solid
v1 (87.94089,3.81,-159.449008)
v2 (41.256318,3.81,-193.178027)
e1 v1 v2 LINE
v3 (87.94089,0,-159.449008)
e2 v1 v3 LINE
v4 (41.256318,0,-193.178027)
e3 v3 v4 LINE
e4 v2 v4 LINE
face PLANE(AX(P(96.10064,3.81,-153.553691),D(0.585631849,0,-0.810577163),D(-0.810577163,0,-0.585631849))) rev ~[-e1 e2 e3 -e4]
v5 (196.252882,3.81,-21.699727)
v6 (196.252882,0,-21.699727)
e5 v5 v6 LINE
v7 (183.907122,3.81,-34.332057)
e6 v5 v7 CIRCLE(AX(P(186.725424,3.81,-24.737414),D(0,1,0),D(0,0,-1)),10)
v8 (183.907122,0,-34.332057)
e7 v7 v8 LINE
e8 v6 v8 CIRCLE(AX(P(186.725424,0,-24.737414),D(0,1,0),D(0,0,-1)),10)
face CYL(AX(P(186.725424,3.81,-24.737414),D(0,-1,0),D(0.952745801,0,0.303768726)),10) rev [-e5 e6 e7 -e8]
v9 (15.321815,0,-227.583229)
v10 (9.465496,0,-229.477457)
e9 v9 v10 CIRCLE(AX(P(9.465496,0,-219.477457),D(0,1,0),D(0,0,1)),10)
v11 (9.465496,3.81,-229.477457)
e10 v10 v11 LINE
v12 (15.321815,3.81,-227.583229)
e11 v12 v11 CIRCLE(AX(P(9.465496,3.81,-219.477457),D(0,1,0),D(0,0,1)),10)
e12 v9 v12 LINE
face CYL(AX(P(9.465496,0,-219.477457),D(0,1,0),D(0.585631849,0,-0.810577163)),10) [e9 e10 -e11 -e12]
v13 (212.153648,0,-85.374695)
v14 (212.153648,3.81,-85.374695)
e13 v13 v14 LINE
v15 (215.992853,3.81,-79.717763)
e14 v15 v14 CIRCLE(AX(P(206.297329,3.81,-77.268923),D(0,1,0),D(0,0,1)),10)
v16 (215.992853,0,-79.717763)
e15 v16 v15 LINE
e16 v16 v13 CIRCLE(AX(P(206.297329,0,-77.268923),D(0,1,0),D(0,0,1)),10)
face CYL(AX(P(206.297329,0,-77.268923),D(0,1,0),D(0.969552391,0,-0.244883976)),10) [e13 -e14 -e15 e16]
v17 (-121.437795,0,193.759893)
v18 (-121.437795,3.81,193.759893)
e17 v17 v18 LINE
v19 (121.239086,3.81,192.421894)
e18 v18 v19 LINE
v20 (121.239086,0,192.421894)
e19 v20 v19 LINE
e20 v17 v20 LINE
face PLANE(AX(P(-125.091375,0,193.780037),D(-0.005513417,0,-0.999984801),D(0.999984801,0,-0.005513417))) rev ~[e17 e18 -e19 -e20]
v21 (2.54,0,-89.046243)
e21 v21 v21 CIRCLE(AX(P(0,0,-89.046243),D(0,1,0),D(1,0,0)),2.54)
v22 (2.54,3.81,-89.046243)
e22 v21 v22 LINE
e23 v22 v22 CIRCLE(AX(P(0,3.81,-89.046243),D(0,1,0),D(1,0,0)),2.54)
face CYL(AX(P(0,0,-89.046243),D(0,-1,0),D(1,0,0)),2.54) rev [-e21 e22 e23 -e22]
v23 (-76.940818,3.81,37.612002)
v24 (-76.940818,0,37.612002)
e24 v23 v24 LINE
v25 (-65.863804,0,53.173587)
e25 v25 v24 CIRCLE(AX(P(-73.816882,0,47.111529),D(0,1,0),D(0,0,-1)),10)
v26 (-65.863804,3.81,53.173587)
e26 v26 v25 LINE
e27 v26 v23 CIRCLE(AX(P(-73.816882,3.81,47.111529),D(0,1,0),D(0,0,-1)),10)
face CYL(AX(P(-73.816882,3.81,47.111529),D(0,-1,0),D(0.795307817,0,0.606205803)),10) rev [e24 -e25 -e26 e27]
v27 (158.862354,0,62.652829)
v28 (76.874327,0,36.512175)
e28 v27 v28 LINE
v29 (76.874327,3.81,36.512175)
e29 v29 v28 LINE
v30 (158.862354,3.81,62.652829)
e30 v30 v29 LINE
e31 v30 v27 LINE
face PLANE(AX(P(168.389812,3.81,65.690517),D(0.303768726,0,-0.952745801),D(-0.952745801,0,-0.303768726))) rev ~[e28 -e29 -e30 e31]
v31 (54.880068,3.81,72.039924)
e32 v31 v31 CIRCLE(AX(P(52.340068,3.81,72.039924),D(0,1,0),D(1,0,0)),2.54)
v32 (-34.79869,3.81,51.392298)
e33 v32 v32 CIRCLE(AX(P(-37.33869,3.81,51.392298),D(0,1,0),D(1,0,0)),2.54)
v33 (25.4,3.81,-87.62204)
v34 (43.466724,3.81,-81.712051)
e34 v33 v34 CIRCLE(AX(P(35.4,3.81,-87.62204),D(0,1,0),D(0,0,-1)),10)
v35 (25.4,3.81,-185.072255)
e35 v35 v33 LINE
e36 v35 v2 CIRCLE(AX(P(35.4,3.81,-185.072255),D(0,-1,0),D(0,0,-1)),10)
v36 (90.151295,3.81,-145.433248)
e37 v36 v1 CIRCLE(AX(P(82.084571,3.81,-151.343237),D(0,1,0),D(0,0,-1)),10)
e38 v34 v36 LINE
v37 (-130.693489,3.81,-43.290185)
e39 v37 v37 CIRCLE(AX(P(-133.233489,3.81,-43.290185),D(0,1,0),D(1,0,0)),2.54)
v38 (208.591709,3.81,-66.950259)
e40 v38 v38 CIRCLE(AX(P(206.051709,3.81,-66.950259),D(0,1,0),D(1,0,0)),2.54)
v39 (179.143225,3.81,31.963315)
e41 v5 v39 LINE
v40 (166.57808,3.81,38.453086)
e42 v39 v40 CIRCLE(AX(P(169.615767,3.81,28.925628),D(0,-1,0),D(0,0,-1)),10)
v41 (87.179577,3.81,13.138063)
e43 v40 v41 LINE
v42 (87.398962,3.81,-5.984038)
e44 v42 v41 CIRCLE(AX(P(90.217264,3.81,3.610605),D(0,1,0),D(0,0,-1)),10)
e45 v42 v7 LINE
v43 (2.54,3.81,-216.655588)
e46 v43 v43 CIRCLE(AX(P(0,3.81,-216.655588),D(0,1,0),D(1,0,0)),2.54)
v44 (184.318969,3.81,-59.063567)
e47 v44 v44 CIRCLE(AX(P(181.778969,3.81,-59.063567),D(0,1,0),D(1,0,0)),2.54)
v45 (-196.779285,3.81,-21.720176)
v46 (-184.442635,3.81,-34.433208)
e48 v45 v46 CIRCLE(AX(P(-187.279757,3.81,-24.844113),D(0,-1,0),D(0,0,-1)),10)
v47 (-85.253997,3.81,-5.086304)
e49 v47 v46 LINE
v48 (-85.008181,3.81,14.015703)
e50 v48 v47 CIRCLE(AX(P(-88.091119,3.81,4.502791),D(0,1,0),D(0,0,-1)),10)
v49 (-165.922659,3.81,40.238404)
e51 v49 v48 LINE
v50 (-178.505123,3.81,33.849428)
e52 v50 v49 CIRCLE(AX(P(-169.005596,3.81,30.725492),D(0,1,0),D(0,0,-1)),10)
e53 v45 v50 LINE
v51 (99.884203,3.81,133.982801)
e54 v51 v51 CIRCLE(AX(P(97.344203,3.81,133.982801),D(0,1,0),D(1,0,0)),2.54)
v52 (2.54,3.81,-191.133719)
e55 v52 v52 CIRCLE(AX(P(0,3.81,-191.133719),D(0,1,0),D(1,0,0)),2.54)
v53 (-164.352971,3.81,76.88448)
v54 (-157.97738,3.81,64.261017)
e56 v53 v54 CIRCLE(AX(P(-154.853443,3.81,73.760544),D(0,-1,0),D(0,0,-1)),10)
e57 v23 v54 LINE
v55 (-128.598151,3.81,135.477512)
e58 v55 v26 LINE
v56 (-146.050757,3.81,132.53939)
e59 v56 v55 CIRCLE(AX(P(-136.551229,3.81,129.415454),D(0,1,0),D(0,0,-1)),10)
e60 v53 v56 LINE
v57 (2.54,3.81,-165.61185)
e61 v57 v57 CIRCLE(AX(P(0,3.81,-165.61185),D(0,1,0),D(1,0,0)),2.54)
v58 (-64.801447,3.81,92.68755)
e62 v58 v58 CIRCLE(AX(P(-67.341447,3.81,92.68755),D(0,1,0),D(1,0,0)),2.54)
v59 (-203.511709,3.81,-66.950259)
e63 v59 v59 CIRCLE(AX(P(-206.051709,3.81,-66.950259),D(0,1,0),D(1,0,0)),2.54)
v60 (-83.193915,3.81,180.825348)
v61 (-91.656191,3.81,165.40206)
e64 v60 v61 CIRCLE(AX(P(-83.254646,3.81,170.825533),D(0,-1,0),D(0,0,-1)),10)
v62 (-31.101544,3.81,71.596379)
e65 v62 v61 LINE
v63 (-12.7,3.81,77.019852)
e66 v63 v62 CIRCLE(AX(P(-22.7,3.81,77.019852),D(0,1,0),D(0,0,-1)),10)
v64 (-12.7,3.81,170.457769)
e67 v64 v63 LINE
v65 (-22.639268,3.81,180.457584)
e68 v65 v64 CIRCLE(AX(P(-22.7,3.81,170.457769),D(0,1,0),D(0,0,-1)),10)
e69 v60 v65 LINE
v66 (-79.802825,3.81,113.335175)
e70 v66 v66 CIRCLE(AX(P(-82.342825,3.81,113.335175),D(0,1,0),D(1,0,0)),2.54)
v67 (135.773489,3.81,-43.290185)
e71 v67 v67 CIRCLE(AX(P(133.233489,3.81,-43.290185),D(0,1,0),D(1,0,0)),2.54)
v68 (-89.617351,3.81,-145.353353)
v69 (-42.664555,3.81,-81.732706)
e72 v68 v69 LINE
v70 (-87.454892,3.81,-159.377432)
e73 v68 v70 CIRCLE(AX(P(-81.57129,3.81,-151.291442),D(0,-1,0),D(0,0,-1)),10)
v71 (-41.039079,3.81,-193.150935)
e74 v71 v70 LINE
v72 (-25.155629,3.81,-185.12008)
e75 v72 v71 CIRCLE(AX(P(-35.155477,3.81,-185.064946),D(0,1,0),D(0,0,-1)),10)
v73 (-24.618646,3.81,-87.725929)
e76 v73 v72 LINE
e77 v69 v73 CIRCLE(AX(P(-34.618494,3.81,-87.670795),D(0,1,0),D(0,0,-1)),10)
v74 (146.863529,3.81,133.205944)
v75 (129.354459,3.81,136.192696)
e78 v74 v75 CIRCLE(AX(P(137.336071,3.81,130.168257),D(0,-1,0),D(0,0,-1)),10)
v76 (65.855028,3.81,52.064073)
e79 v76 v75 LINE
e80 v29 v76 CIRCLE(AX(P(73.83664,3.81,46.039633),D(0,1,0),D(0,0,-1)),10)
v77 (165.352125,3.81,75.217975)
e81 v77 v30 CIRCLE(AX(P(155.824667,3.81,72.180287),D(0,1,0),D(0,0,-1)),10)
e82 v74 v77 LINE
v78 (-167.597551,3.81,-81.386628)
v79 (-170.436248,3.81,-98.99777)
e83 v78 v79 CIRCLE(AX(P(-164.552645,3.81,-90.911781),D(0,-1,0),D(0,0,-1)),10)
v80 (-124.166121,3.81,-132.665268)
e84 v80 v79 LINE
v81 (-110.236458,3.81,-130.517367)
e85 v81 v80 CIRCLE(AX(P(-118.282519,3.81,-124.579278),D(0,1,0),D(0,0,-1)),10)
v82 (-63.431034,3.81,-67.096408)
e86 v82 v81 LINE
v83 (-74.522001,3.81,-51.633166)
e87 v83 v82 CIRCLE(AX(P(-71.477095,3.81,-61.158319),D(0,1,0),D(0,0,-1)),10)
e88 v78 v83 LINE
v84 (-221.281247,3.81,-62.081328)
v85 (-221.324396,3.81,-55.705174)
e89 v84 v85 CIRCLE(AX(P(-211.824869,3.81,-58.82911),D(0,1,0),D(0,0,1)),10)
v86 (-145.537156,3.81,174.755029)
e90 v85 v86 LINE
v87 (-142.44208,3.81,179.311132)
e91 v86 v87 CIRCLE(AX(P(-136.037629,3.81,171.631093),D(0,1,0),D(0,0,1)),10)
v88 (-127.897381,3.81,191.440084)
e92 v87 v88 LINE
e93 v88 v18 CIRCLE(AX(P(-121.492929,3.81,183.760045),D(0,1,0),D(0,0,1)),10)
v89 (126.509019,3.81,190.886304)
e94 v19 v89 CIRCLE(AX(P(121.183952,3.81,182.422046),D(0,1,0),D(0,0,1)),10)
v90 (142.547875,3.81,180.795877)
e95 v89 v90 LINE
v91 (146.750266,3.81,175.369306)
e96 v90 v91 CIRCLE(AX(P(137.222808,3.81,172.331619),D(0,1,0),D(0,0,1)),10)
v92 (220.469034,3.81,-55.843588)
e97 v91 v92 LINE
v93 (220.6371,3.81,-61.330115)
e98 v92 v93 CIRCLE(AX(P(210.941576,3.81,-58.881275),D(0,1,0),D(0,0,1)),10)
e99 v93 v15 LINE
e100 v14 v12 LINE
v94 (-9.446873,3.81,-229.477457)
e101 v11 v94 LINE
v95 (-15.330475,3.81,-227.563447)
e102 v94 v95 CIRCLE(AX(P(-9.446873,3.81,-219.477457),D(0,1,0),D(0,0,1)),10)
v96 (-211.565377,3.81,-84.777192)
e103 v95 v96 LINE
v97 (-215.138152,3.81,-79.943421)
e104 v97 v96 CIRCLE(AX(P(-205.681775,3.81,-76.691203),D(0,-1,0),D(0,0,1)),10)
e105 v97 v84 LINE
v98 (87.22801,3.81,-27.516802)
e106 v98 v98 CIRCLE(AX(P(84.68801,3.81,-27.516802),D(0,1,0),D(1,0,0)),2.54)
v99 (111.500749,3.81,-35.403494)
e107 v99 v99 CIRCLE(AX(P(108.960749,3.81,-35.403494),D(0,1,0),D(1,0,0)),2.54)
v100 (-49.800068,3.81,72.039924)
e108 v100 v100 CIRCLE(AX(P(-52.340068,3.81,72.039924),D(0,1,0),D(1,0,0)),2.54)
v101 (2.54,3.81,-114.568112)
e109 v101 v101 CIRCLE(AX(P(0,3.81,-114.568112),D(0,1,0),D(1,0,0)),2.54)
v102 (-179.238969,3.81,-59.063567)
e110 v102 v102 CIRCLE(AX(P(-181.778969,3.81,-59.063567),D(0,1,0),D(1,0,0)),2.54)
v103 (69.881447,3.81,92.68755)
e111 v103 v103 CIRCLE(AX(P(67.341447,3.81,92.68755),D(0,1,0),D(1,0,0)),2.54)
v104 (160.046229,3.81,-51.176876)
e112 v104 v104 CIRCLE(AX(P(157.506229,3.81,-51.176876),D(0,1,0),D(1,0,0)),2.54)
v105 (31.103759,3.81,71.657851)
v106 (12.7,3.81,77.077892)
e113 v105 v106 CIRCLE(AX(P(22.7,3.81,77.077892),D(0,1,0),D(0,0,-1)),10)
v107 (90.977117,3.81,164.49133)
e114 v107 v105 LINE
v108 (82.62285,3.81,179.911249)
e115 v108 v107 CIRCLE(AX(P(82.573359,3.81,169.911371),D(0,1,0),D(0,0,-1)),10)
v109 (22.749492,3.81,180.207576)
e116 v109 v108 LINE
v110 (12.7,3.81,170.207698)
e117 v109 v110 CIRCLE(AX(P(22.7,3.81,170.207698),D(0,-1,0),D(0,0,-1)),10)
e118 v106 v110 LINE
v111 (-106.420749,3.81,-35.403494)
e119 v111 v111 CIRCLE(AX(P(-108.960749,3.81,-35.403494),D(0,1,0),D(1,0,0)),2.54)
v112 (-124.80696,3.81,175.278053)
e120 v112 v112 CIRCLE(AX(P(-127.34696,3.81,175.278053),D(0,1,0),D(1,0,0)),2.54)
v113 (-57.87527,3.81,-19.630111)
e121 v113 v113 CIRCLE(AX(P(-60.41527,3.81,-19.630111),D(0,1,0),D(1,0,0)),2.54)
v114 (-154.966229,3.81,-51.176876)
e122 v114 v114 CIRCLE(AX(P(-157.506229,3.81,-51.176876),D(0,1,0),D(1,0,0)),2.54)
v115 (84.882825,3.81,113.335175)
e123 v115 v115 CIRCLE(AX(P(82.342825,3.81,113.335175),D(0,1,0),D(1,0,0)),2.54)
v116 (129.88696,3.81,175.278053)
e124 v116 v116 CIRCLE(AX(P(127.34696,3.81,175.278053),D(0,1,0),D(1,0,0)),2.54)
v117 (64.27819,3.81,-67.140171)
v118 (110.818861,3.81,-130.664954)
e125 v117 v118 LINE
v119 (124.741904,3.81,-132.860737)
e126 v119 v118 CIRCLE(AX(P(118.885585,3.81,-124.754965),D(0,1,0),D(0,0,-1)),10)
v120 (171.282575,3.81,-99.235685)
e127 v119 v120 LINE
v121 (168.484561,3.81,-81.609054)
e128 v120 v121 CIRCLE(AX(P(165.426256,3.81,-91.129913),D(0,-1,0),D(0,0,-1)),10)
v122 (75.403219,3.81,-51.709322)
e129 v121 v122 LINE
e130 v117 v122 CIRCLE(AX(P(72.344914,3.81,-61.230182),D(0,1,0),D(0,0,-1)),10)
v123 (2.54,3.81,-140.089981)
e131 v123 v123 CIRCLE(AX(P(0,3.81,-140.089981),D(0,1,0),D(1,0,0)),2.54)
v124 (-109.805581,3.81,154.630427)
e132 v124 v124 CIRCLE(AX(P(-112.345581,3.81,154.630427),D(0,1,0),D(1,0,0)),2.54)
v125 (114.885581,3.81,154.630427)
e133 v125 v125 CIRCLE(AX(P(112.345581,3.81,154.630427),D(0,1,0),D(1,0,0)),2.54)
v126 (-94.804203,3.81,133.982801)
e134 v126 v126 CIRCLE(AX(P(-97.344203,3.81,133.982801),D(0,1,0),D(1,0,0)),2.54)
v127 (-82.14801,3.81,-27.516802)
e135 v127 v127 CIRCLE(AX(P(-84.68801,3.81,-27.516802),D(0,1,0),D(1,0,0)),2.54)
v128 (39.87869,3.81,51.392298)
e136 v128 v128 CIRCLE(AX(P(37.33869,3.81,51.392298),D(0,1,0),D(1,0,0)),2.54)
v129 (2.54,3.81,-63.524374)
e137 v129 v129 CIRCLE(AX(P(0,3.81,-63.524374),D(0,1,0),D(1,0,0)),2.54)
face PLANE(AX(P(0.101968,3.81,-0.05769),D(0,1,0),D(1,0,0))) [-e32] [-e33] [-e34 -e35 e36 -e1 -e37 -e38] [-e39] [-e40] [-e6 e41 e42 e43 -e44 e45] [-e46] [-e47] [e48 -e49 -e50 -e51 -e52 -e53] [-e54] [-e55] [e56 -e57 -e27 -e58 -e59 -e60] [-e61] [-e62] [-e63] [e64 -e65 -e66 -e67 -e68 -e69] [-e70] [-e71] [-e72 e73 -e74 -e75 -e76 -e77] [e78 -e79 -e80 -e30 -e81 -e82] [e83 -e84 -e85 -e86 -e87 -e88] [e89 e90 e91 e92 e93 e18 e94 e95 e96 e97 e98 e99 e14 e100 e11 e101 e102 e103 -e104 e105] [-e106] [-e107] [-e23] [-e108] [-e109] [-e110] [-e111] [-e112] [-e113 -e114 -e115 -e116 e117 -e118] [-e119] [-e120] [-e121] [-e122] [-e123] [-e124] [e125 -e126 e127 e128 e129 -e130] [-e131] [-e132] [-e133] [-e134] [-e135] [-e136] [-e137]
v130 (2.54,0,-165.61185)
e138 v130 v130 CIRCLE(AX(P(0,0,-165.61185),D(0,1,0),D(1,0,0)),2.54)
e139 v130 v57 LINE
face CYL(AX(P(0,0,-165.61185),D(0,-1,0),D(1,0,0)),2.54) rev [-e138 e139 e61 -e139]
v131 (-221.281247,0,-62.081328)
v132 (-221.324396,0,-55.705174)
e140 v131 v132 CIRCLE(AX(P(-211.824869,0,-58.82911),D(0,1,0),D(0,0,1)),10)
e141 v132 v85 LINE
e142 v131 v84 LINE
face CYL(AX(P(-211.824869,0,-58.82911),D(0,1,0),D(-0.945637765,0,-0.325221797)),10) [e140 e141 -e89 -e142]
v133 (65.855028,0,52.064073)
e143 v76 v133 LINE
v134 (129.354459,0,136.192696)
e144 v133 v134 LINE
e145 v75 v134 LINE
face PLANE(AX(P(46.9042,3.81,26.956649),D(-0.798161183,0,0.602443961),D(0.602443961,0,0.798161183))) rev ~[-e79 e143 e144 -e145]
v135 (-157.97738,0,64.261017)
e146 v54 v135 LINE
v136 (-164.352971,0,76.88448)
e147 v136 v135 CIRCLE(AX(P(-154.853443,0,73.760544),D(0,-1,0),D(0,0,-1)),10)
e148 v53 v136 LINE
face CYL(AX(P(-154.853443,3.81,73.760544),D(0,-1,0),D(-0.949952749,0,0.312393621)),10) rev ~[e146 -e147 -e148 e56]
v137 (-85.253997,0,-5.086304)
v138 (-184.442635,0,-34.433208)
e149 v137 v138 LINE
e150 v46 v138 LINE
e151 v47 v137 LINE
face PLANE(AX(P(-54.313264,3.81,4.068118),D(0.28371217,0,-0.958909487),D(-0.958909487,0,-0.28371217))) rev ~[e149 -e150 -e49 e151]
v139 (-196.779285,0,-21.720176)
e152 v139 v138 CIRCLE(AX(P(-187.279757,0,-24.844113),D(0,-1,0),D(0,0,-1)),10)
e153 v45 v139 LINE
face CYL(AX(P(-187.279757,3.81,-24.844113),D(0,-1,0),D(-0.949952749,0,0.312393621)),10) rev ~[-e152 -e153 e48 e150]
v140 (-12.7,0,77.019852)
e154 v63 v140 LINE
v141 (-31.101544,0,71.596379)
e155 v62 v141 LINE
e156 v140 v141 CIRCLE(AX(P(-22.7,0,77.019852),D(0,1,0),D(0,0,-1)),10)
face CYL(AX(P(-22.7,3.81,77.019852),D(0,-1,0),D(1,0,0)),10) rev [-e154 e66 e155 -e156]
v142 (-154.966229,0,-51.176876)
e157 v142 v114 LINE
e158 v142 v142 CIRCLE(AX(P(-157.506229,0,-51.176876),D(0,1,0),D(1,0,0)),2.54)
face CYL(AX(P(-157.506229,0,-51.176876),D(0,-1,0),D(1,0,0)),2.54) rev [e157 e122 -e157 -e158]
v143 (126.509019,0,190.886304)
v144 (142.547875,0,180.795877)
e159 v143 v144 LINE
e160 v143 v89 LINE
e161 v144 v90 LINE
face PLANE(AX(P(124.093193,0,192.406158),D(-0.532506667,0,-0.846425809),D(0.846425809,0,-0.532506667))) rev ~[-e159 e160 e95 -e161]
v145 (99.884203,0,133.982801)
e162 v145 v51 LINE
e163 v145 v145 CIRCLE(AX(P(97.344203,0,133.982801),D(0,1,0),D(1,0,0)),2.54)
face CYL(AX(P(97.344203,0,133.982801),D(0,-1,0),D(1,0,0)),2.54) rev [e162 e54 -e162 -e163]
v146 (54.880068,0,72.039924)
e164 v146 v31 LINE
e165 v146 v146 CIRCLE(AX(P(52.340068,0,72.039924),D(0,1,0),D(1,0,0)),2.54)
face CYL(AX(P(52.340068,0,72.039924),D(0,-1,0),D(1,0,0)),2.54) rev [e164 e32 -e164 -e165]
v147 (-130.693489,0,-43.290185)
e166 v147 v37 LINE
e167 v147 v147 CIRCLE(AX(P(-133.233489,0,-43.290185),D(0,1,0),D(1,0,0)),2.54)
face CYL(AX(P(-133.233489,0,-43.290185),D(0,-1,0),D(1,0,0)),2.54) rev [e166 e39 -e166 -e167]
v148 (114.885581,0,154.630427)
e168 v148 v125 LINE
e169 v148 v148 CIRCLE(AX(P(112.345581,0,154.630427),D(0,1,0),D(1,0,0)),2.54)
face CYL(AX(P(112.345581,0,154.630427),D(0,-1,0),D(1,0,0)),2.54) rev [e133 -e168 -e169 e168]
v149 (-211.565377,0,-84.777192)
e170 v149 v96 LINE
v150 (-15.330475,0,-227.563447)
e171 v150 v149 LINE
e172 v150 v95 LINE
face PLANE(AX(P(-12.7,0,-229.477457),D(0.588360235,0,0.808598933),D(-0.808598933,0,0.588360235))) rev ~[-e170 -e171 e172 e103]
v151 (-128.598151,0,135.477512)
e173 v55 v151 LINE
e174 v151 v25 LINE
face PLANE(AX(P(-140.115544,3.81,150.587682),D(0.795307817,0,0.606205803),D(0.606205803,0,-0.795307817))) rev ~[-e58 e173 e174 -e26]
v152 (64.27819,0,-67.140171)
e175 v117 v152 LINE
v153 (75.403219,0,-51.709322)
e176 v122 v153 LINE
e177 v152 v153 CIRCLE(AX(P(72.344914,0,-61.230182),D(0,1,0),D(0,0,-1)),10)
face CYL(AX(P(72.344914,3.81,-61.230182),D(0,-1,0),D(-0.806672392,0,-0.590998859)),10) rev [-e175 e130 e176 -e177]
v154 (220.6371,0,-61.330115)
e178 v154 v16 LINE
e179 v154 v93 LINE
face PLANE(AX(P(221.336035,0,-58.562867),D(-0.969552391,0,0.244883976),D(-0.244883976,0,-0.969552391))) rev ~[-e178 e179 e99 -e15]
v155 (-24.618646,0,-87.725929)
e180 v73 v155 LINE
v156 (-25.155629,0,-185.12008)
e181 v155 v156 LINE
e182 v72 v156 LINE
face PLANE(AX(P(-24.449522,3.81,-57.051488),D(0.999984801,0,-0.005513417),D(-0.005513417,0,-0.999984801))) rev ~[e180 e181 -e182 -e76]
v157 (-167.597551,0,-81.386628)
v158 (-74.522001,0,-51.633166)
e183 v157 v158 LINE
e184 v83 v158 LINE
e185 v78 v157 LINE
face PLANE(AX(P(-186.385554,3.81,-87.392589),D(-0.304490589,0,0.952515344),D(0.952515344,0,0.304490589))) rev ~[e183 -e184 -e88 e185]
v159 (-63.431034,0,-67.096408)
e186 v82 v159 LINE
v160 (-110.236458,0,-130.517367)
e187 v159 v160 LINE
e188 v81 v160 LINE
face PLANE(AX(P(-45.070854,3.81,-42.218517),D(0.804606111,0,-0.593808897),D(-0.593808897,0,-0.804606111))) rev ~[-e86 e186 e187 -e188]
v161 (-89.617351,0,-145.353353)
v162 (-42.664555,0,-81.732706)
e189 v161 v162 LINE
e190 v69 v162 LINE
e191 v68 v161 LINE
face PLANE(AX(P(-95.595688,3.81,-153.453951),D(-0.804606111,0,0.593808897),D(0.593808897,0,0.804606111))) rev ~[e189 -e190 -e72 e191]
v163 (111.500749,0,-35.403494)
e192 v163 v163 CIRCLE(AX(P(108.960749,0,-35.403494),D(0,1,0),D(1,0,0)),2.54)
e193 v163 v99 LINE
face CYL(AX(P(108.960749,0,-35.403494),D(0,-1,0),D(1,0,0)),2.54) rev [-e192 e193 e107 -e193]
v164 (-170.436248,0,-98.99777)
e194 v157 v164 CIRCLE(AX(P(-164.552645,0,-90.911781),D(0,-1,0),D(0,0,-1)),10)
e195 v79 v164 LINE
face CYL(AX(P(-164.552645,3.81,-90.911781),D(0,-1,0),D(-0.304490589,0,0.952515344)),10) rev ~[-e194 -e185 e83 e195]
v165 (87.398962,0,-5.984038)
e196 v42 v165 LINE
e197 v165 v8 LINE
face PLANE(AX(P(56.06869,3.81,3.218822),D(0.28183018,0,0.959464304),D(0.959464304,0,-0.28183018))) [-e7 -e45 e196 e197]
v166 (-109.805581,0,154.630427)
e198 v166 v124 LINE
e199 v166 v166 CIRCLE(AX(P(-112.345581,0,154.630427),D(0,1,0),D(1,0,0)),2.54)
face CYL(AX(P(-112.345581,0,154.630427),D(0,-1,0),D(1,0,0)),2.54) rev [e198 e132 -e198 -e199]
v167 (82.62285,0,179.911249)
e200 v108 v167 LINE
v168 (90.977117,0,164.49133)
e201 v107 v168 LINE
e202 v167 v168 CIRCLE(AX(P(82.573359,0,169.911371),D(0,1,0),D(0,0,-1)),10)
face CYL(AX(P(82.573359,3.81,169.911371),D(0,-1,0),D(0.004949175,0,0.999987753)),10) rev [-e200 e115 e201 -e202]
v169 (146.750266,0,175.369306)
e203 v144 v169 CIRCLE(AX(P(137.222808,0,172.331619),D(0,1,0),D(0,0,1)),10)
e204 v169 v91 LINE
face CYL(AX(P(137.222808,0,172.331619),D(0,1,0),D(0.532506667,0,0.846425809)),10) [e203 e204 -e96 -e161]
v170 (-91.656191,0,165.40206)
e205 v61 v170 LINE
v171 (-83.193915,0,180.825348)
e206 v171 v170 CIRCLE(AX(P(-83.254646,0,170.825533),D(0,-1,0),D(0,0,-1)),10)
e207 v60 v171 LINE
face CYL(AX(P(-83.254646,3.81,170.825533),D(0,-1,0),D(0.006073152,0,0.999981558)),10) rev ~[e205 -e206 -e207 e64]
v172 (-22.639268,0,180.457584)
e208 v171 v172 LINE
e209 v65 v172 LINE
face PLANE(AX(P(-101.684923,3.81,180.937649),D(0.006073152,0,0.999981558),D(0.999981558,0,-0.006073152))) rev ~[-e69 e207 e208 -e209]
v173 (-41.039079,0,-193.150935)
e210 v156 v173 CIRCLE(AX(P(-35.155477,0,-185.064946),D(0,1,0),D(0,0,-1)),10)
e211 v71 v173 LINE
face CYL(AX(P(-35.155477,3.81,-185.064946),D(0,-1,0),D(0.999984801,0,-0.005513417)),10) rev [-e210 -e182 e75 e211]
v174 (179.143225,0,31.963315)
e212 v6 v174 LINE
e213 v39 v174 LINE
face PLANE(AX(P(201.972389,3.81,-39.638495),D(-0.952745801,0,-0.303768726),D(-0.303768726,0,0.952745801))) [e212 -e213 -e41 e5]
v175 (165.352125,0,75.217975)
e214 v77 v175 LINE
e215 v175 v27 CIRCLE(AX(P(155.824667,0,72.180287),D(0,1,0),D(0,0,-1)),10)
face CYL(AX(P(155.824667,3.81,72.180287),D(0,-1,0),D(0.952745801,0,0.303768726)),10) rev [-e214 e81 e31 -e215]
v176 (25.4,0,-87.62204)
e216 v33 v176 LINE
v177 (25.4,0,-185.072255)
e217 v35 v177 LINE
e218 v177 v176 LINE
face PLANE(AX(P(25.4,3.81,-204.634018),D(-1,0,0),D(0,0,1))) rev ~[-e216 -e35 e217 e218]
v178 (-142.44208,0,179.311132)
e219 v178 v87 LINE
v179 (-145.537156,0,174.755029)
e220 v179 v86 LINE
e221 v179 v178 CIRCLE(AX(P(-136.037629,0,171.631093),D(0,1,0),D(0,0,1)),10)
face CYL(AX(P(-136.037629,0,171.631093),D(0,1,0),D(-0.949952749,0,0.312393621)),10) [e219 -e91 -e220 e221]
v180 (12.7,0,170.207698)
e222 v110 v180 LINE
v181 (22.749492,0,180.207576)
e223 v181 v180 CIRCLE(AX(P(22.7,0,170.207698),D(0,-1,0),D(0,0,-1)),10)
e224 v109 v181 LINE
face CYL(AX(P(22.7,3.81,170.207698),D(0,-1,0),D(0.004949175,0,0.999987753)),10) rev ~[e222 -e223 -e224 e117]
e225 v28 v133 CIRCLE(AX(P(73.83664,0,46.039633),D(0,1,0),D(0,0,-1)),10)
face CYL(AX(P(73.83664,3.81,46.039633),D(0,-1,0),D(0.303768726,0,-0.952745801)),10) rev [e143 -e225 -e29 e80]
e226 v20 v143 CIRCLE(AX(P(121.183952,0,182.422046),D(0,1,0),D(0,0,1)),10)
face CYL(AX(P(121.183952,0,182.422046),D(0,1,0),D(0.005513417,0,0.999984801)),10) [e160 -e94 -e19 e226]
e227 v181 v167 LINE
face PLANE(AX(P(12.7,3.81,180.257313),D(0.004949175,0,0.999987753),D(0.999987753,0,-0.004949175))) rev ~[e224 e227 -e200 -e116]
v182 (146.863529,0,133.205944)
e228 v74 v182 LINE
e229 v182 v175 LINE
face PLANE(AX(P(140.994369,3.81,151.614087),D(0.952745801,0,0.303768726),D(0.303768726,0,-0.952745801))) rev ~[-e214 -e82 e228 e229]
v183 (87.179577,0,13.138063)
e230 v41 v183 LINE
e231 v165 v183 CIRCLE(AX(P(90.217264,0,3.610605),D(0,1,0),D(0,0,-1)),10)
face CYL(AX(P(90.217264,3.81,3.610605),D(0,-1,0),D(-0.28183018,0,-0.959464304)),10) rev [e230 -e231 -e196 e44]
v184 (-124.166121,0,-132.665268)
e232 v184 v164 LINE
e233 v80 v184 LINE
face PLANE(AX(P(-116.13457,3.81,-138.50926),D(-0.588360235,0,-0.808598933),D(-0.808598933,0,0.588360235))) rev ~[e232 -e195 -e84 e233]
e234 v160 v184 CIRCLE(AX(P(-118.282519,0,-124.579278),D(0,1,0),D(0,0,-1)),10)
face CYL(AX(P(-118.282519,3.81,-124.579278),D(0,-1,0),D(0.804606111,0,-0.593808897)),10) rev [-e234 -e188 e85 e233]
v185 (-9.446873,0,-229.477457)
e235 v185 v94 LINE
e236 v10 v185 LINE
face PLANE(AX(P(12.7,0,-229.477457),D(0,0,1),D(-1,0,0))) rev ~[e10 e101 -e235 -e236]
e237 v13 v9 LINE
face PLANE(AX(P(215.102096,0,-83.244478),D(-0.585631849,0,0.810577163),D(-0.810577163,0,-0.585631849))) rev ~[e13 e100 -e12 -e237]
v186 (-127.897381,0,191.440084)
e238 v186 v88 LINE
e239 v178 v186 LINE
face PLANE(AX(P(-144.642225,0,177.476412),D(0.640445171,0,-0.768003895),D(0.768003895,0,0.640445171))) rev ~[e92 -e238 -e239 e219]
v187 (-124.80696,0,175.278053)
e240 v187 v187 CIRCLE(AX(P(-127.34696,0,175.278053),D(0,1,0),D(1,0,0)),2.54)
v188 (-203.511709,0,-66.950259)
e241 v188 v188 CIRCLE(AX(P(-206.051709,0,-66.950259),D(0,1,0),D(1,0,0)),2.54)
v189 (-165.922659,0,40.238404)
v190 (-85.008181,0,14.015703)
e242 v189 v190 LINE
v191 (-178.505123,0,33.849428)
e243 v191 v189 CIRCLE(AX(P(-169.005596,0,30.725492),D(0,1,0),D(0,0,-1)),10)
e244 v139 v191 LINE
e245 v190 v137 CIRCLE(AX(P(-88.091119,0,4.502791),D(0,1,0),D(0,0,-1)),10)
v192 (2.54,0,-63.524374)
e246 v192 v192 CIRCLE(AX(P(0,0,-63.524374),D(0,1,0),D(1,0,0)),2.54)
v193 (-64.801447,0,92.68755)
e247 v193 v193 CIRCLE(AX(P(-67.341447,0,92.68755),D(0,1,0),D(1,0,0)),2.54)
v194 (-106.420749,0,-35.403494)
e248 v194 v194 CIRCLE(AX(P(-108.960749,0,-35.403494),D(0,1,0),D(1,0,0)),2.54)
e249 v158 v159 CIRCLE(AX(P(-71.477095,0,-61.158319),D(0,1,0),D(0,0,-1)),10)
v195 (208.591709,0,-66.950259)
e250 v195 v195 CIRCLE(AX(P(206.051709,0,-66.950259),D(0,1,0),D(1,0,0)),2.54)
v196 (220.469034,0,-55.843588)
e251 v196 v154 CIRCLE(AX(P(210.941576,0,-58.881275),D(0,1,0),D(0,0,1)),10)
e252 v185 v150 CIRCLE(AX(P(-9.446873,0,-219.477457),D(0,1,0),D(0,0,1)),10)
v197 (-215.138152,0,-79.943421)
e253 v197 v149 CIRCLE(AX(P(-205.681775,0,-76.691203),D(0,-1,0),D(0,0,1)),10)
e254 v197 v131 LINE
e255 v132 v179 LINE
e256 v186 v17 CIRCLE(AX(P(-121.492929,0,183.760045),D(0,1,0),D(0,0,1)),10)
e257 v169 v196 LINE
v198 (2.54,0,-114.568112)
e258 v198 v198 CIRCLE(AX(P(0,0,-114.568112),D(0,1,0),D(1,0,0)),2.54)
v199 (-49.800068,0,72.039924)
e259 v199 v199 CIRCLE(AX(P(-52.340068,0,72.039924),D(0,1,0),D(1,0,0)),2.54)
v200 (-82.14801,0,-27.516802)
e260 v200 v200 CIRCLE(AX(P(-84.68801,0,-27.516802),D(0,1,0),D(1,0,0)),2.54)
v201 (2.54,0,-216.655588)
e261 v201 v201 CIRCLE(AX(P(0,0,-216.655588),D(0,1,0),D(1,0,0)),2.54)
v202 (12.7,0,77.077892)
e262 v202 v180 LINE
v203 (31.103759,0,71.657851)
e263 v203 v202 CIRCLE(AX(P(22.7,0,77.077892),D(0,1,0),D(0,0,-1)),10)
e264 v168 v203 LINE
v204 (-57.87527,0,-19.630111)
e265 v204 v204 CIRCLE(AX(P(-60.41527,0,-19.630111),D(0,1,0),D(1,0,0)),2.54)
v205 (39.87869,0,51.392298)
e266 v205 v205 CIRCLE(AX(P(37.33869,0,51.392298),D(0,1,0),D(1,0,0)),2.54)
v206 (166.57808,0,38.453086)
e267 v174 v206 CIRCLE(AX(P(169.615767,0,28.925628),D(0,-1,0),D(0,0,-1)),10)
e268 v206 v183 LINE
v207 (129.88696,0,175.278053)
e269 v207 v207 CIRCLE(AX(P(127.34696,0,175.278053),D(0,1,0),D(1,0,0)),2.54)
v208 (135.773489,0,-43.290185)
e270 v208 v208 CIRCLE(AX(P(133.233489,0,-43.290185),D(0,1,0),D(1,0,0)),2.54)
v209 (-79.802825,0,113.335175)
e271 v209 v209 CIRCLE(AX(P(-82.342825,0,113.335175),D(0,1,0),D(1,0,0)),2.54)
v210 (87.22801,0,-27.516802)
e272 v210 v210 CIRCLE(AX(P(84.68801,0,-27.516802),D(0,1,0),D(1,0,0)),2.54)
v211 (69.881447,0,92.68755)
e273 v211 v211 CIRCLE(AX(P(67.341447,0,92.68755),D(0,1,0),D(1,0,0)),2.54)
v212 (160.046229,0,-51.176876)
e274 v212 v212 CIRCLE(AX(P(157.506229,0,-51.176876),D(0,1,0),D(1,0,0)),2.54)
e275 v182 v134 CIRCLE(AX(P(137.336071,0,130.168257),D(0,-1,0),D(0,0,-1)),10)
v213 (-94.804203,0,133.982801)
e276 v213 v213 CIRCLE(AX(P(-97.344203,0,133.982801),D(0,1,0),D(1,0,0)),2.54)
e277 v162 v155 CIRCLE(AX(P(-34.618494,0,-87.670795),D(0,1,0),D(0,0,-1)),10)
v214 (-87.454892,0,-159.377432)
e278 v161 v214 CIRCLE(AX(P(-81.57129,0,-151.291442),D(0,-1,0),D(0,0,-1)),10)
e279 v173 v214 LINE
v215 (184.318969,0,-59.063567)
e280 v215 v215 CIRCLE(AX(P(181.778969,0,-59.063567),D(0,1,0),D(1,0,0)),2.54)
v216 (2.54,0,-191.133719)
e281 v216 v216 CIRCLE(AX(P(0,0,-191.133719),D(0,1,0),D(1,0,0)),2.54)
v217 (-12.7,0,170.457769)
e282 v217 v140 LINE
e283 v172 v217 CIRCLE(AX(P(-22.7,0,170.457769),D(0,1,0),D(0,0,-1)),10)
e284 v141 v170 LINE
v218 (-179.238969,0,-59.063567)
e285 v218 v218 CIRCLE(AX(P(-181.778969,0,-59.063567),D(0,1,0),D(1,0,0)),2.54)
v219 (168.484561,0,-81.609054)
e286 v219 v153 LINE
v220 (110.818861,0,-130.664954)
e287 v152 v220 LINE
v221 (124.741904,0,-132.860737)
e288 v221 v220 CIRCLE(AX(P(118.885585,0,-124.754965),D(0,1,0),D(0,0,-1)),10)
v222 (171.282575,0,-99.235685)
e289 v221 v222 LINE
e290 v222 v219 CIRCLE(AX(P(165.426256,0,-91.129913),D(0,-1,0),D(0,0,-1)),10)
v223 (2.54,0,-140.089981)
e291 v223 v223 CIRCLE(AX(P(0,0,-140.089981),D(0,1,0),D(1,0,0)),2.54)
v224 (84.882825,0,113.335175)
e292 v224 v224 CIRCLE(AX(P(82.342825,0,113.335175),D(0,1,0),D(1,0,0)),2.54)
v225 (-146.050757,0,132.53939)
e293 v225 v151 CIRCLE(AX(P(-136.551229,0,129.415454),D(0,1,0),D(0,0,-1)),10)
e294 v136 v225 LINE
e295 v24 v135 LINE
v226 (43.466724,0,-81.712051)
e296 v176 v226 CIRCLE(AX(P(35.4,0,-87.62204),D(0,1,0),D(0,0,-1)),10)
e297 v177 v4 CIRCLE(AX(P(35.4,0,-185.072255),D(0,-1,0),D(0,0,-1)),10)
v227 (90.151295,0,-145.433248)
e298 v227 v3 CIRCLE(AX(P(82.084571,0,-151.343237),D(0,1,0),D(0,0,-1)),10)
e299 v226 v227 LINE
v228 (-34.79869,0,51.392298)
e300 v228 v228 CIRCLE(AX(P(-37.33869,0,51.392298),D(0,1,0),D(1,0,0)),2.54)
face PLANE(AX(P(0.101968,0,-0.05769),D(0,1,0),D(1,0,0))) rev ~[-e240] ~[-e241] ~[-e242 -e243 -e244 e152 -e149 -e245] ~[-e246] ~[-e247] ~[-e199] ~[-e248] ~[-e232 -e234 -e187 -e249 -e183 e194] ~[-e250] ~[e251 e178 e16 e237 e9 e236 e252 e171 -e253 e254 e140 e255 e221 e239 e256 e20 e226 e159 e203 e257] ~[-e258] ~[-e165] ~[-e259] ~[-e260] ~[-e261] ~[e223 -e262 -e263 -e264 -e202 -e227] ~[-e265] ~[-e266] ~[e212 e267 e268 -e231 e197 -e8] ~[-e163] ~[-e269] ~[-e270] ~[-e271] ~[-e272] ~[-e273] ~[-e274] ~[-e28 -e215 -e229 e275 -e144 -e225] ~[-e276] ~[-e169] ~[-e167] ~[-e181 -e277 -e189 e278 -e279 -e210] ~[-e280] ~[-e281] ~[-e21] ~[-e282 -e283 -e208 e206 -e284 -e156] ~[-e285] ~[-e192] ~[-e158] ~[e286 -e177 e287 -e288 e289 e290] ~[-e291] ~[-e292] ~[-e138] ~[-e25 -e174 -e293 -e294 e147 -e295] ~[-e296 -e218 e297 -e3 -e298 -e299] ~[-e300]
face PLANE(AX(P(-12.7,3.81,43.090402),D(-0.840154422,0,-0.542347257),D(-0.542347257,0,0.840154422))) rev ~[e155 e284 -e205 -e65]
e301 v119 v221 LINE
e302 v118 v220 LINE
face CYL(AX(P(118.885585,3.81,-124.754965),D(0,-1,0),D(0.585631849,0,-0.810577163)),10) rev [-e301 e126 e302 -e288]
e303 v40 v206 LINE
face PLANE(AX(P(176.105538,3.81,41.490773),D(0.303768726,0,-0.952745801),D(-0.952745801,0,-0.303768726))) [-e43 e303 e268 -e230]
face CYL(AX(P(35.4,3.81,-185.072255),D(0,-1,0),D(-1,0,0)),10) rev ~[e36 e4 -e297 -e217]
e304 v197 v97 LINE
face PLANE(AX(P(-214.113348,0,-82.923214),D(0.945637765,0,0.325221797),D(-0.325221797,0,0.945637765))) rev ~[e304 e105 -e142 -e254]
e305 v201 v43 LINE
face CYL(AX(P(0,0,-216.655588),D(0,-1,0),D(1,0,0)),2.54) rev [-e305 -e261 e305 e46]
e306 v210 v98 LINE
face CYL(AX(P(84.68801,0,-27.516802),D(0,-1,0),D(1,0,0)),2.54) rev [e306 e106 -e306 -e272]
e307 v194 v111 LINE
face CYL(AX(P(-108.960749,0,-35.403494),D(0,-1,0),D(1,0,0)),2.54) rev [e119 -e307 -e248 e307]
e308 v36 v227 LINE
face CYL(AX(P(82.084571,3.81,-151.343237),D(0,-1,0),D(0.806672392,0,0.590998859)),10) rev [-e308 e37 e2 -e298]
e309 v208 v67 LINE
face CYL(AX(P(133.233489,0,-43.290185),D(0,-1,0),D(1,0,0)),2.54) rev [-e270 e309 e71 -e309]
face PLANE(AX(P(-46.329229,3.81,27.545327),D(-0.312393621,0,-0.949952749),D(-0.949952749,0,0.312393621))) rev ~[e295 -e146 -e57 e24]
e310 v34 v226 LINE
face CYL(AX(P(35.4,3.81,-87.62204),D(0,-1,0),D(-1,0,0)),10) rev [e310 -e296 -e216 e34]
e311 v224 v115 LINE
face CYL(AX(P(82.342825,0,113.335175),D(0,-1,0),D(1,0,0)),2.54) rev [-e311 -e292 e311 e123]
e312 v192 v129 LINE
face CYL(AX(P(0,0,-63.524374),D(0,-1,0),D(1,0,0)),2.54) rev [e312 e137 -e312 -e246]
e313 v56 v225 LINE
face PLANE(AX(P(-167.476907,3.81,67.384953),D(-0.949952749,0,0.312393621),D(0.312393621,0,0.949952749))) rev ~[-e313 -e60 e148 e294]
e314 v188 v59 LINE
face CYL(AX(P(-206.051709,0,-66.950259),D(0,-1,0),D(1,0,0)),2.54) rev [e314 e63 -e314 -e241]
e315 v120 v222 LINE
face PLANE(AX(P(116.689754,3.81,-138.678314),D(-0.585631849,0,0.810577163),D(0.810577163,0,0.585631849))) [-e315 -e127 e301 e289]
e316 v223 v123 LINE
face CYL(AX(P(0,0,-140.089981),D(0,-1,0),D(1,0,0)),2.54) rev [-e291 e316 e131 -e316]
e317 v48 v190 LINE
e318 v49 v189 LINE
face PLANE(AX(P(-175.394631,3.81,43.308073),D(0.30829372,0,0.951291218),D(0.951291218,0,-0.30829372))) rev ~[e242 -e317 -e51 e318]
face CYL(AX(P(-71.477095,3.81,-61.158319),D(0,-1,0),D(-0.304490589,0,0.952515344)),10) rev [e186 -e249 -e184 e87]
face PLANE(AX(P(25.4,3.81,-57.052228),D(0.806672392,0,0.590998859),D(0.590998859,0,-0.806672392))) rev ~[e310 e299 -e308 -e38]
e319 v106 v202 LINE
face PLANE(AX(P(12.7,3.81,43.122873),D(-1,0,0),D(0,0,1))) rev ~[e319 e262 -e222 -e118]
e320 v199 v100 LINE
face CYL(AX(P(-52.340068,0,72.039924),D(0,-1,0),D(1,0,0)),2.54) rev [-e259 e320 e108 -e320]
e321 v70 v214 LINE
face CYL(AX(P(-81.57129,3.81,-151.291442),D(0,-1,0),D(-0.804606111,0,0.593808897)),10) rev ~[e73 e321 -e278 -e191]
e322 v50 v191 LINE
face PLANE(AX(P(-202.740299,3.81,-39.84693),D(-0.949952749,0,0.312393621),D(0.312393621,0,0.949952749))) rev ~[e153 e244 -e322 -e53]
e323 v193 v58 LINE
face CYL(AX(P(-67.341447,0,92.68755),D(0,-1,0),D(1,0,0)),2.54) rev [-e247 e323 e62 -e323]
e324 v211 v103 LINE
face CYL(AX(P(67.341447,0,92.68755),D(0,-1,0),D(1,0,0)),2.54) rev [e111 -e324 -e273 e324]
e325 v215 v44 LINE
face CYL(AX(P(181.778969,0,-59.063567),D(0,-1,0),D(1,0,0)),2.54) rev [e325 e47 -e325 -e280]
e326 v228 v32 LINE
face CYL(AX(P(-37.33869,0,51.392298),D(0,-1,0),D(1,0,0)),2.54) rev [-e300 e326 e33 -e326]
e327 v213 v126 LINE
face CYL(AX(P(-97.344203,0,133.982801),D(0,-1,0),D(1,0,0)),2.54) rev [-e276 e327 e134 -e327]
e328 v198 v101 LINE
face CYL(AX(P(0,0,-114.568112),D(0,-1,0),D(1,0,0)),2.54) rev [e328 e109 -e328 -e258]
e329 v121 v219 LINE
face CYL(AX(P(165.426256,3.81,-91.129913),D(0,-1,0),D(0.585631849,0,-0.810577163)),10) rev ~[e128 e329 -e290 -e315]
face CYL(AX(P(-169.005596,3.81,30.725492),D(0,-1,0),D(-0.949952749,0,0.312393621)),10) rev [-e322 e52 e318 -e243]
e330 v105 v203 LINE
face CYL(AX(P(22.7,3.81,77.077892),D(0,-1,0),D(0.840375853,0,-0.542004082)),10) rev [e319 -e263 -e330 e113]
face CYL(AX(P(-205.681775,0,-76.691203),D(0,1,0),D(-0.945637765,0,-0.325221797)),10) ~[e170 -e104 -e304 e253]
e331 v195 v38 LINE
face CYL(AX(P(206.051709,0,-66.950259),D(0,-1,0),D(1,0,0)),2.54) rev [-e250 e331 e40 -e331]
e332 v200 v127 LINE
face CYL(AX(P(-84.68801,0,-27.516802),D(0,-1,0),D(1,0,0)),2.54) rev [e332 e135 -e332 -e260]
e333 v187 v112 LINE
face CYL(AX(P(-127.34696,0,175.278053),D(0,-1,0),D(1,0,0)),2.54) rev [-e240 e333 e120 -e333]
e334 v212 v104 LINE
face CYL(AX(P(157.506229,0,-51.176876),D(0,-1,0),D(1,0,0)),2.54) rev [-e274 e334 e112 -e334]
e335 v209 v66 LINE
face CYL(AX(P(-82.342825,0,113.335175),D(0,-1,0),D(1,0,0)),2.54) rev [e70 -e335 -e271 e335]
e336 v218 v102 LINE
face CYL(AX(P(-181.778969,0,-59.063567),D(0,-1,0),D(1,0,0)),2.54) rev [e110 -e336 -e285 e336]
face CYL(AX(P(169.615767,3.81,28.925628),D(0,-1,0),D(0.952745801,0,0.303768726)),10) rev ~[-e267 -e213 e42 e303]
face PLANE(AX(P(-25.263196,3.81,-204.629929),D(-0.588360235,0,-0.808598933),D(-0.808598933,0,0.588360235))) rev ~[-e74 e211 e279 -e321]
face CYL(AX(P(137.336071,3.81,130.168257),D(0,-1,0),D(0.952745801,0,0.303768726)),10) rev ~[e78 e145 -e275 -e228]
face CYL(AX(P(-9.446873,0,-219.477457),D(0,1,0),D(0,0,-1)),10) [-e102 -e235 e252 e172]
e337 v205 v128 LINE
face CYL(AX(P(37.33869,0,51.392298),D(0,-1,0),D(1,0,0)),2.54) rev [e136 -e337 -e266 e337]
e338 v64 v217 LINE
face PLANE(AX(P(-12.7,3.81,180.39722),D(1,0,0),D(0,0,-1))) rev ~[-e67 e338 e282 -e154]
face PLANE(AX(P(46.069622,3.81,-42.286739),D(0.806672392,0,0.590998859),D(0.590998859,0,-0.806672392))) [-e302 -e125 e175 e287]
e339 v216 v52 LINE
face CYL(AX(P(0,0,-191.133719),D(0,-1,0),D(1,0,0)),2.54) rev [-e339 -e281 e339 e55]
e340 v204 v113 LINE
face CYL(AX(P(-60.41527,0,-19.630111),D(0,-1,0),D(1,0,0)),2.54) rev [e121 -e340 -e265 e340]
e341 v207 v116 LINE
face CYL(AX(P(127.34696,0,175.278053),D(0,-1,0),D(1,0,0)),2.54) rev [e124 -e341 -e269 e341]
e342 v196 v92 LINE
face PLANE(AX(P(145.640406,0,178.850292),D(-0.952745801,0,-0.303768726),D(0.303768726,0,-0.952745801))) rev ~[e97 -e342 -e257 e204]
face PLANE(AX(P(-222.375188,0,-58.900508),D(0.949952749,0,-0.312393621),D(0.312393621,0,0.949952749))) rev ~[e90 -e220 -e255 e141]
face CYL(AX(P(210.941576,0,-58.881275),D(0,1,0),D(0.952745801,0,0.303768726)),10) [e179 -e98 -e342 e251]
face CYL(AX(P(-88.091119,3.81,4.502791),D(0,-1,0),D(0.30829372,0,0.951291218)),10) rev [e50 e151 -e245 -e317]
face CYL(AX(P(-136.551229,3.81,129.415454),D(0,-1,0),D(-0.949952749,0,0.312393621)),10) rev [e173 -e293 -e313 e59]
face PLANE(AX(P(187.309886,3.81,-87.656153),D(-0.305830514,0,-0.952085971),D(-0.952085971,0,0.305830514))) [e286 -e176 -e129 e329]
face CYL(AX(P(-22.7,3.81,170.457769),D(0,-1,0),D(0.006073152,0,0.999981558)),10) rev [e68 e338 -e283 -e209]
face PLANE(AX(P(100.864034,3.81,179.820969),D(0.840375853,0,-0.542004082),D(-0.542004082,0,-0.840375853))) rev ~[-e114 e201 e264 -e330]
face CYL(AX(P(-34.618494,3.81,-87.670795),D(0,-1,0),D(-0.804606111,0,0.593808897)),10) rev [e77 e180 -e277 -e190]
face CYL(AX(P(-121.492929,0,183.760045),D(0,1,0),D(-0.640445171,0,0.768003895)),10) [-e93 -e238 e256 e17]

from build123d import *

# Parameters (mm, degrees)
BOSS_EXTRUDE1_DEPTH = 3.81
SKETCH1_R           = 2.54
CUT_EXTRUDE2_DEPTH  = 3.81
CUT_EXTRUDE4_DEPTH  = 25.4
FILLET1_R           = 10
CUT_EXTRUDE5_DEPTH  = 25.4
FILLET2_R           = 10
FILLET3_R           = 10


with BuildPart() as part:
    # Sketch2 → Boss-Extrude1 (new body)
    with BuildSketch(Plane(origin=(0, 0, 0), x_dir=(1, 0, 0), z_dir=(0, 1, 0))):
        Polygon((-214.113347974, 82.923214231), (-222.375187677, 58.900508182), (-144.642224503, -177.47641221), (-125.09137467, -193.780037034), (124.093192846, -192.406157618), (145.640406327, -178.850291626), (221.336035454, 58.562867157), (215.102095915, 83.244477912), (12.7, 229.477457482), (-12.7, 229.477457482), align=None)
    extrude(amount=BOSS_EXTRUDE1_DEPTH)

    # Sketch1 → Cut-Extrude2 (cut)
    with BuildSketch(Plane(origin=(0, 0, 0), x_dir=(1, 0, 0), z_dir=(0, 1, 0))):
        with Locations((108.960749485, 35.403493624)):
            Circle(SKETCH1_R)
        with Locations((84.688009575, 27.516802346)):
            Circle(SKETCH1_R)
        with Locations((82.342824886, -113.335175454)):
            Circle(SKETCH1_R)
        with Locations((97.344203151, -133.98280128)):
            Circle(SKETCH1_R)
        with Locations((127.346959681, -175.278052932)):
            Circle(SKETCH1_R)
        with Locations((-206.051709128, 66.950258738)):
            Circle(SKETCH1_R)
        with Locations((-181.778969217, 59.06356746)):
            Circle(SKETCH1_R)
        with Locations((-157.506229307, 51.176876181)):
            Circle(SKETCH1_R)
        with Locations((-133.233489396, 43.290184903)):
            Circle(SKETCH1_R)
        with Locations((-108.960749485, 35.403493624)):
            Circle(SKETCH1_R)
        with Locations((-84.688009575, 27.516802346)):
            Circle(SKETCH1_R)
        with Locations((-60.415269664, 19.630111067)):
            Circle(SKETCH1_R)
        with Locations((0, 216.655588388)):
            Circle(SKETCH1_R)
        with Locations((0, 191.133719293)):
            Circle(SKETCH1_R)
        with Locations((0, 165.611850198)):
            Circle(SKETCH1_R)
        with Locations((0, 140.089981103)):
            Circle(SKETCH1_R)
        with Locations((0, 114.568112009)):
            Circle(SKETCH1_R)
        with Locations((0, 89.046242914)):
            Circle(SKETCH1_R)
        with Locations((0, 63.524373819)):
            Circle(SKETCH1_R)
        with Locations((206.051709128, 66.950258738)):
            Circle(SKETCH1_R)
        with Locations((181.778969217, 59.06356746)):
            Circle(SKETCH1_R)
        with Locations((157.506229307, 51.176876181)):
            Circle(SKETCH1_R)
        with Locations((133.233489396, 43.290184903)):
            Circle(SKETCH1_R)
        with Locations((37.338690092, -51.392297977)):
            Circle(SKETCH1_R)
        with Locations((52.340068357, -72.039923802)):
            Circle(SKETCH1_R)
        with Locations((67.341446622, -92.687549628)):
            Circle(SKETCH1_R)
        with Locations((112.345581416, -154.630427106)):
            Circle(SKETCH1_R)
        with Locations((-127.346959681, -175.278052932)):
            Circle(SKETCH1_R)
        with Locations((-112.345581416, -154.630427106)):
            Circle(SKETCH1_R)
        with Locations((-97.344203151, -133.98280128)):
            Circle(SKETCH1_R)
        with Locations((-82.342824886, -113.335175454)):
            Circle(SKETCH1_R)
        with Locations((-67.341446622, -92.687549628)):
            Circle(SKETCH1_R)
        with Locations((-52.340068357, -72.039923802)):
            Circle(SKETCH1_R)
        with Locations((-37.338690092, -51.392297977)):
            Circle(SKETCH1_R)
    extrude(amount=CUT_EXTRUDE2_DEPTH, mode=Mode.SUBTRACT)

    # Sketch4 → Cut-Extrude4 (cut)
    with BuildSketch(Plane(origin=(0, 3.81, 0), x_dir=(1, 0, 0), z_dir=(0, 1, 0))):
        Polygon((-45.070854373, 42.218517188), (-116.134569677, 138.509259641), (-186.385554028, 87.392588613), align=None)
    extrude(amount=-CUT_EXTRUDE4_DEPTH, mode=Mode.SUBTRACT)

    # Fillet1
    fillet1_edges = [part.edges().sort_by_distance(p)[0] for p in [
        (-45.070854373, 1.905, -42.218517188),
        (-186.385554028, 1.905, -87.392588613),
        (-116.134569677, 1.905, -138.509259641),
    ]]
    fillet(fillet1_edges, radius=FILLET1_R)

    # Sketch4<3> → Cut-Extrude5 (cut)
    with BuildSketch(Plane(origin=(0, 3.81, 0), x_dir=(1, 0, 0), z_dir=(0, 1, 0))):
        Polygon((-45.070854373, 42.218517188), (-116.134569677, 138.509259641), (-186.385554028, 87.392588613), align=None)
        Polygon((-25.263196152, 204.629928972), (-95.595688183, 153.453950571), (-24.449522239, 57.051488188), align=None)
        Polygon((96.100640401, 153.553690969), (25.4, 204.634018259), (25.4, 57.052227702), align=None)
        Polygon((46.069621628, 42.286739176), (116.689753838, 138.678314353), (187.309886047, 87.656153224), align=None)
        Polygon((-54.313264472, -4.068117885), (-202.740299234, 39.846930078), (-175.394631138, -43.308073239), align=None)
        Polygon((-46.329229165, -27.545327403), (-167.47690719, -67.384952942), (-140.115544314, -150.587682263), align=None)
        Polygon((-12.7, -43.090401677), (-101.684923108, -180.937649266), (-12.7, -180.397220358), align=None)
        Polygon((12.7, -43.122873263), (12.7, -180.257313283), (100.864034479, -179.820968664), align=None)
        Polygon((46.904199543, -26.956649015), (140.994368681, -151.614087132), (168.389811964, -65.690516628), align=None)
        Polygon((56.068689502, -3.218822472), (201.972389344, 39.638494676), (176.105537606, -41.490773287), align=None)
    extrude(amount=-CUT_EXTRUDE5_DEPTH, mode=Mode.SUBTRACT)

    # Fillet2
    fillet2_edges = [part.edges().sort_by_distance(p)[0] for p in [
        (-45.070854373, 1.905, -42.218517188),
        (-186.385554028, 1.905, -87.392588613),
        (-116.134569677, 1.905, -138.509259641),
        (-25.263196152, 1.905, -204.629928972),
        (-24.449522239, 1.905, -57.051488188),
        (-95.595688183, 1.905, -153.453950571),
        (187.309886047, 1.905, -87.656153224),
        (46.069621628, 1.905, -42.286739176),
        (116.689753838, 1.905, -138.678314353),
        (96.100640401, 1.905, -153.553690969),
        (25.4, 1.905, -57.052227702),
        (25.4, 1.905, -204.634018259),
        (-12.7, 1.905, 43.090401677),
        (-12.7, 1.905, 180.397220358),
        (-101.684923108, 1.905, 180.937649266),
        (12.7, 1.905, 43.122873263),
        (100.864034479, 1.905, 179.820968664),
        (12.7, 1.905, 180.257313283),
        (176.105537606, 1.905, 41.490773287),
        (56.068689502, 1.905, 3.218822472),
        (201.972389344, 1.905, -39.638494676),
        (46.904199543, 1.905, 26.956649015),
        (168.389811964, 1.905, 65.690516628),
        (140.994368681, 1.905, 151.614087132),
        (-46.329229165, 1.905, 27.545327403),
        (-140.115544314, 1.905, 150.587682263),
        (-167.47690719, 1.905, 67.384952942),
        (-54.313264472, 1.905, 4.068117885),
        (-175.394631138, 1.905, 43.308073239),
        (-202.740299234, 1.905, -39.846930078),
    ]]
    fillet(fillet2_edges, radius=FILLET2_R)

    # Fillet3
    fillet3_edges = [part.edges().sort_by_distance(p)[0] for p in [
        (-214.113347974, 1.905, -82.923214231),
        (-222.375187677, 1.905, -58.900508182),
        (-144.642224503, 1.905, 177.47641221),
        (-125.09137467, 1.905, 193.780037034),
        (124.093192846, 1.905, 192.406157618),
        (145.640406327, 1.905, 178.850291626),
        (221.336035454, 1.905, -58.562867157),
        (215.102095915, 1.905, -83.244477912),
        (12.7, 1.905, -229.477457482),
        (-12.7, 1.905, -229.477457482),
    ]]
    fillet(fillet3_edges, radius=FILLET3_R)


solid = part.part
